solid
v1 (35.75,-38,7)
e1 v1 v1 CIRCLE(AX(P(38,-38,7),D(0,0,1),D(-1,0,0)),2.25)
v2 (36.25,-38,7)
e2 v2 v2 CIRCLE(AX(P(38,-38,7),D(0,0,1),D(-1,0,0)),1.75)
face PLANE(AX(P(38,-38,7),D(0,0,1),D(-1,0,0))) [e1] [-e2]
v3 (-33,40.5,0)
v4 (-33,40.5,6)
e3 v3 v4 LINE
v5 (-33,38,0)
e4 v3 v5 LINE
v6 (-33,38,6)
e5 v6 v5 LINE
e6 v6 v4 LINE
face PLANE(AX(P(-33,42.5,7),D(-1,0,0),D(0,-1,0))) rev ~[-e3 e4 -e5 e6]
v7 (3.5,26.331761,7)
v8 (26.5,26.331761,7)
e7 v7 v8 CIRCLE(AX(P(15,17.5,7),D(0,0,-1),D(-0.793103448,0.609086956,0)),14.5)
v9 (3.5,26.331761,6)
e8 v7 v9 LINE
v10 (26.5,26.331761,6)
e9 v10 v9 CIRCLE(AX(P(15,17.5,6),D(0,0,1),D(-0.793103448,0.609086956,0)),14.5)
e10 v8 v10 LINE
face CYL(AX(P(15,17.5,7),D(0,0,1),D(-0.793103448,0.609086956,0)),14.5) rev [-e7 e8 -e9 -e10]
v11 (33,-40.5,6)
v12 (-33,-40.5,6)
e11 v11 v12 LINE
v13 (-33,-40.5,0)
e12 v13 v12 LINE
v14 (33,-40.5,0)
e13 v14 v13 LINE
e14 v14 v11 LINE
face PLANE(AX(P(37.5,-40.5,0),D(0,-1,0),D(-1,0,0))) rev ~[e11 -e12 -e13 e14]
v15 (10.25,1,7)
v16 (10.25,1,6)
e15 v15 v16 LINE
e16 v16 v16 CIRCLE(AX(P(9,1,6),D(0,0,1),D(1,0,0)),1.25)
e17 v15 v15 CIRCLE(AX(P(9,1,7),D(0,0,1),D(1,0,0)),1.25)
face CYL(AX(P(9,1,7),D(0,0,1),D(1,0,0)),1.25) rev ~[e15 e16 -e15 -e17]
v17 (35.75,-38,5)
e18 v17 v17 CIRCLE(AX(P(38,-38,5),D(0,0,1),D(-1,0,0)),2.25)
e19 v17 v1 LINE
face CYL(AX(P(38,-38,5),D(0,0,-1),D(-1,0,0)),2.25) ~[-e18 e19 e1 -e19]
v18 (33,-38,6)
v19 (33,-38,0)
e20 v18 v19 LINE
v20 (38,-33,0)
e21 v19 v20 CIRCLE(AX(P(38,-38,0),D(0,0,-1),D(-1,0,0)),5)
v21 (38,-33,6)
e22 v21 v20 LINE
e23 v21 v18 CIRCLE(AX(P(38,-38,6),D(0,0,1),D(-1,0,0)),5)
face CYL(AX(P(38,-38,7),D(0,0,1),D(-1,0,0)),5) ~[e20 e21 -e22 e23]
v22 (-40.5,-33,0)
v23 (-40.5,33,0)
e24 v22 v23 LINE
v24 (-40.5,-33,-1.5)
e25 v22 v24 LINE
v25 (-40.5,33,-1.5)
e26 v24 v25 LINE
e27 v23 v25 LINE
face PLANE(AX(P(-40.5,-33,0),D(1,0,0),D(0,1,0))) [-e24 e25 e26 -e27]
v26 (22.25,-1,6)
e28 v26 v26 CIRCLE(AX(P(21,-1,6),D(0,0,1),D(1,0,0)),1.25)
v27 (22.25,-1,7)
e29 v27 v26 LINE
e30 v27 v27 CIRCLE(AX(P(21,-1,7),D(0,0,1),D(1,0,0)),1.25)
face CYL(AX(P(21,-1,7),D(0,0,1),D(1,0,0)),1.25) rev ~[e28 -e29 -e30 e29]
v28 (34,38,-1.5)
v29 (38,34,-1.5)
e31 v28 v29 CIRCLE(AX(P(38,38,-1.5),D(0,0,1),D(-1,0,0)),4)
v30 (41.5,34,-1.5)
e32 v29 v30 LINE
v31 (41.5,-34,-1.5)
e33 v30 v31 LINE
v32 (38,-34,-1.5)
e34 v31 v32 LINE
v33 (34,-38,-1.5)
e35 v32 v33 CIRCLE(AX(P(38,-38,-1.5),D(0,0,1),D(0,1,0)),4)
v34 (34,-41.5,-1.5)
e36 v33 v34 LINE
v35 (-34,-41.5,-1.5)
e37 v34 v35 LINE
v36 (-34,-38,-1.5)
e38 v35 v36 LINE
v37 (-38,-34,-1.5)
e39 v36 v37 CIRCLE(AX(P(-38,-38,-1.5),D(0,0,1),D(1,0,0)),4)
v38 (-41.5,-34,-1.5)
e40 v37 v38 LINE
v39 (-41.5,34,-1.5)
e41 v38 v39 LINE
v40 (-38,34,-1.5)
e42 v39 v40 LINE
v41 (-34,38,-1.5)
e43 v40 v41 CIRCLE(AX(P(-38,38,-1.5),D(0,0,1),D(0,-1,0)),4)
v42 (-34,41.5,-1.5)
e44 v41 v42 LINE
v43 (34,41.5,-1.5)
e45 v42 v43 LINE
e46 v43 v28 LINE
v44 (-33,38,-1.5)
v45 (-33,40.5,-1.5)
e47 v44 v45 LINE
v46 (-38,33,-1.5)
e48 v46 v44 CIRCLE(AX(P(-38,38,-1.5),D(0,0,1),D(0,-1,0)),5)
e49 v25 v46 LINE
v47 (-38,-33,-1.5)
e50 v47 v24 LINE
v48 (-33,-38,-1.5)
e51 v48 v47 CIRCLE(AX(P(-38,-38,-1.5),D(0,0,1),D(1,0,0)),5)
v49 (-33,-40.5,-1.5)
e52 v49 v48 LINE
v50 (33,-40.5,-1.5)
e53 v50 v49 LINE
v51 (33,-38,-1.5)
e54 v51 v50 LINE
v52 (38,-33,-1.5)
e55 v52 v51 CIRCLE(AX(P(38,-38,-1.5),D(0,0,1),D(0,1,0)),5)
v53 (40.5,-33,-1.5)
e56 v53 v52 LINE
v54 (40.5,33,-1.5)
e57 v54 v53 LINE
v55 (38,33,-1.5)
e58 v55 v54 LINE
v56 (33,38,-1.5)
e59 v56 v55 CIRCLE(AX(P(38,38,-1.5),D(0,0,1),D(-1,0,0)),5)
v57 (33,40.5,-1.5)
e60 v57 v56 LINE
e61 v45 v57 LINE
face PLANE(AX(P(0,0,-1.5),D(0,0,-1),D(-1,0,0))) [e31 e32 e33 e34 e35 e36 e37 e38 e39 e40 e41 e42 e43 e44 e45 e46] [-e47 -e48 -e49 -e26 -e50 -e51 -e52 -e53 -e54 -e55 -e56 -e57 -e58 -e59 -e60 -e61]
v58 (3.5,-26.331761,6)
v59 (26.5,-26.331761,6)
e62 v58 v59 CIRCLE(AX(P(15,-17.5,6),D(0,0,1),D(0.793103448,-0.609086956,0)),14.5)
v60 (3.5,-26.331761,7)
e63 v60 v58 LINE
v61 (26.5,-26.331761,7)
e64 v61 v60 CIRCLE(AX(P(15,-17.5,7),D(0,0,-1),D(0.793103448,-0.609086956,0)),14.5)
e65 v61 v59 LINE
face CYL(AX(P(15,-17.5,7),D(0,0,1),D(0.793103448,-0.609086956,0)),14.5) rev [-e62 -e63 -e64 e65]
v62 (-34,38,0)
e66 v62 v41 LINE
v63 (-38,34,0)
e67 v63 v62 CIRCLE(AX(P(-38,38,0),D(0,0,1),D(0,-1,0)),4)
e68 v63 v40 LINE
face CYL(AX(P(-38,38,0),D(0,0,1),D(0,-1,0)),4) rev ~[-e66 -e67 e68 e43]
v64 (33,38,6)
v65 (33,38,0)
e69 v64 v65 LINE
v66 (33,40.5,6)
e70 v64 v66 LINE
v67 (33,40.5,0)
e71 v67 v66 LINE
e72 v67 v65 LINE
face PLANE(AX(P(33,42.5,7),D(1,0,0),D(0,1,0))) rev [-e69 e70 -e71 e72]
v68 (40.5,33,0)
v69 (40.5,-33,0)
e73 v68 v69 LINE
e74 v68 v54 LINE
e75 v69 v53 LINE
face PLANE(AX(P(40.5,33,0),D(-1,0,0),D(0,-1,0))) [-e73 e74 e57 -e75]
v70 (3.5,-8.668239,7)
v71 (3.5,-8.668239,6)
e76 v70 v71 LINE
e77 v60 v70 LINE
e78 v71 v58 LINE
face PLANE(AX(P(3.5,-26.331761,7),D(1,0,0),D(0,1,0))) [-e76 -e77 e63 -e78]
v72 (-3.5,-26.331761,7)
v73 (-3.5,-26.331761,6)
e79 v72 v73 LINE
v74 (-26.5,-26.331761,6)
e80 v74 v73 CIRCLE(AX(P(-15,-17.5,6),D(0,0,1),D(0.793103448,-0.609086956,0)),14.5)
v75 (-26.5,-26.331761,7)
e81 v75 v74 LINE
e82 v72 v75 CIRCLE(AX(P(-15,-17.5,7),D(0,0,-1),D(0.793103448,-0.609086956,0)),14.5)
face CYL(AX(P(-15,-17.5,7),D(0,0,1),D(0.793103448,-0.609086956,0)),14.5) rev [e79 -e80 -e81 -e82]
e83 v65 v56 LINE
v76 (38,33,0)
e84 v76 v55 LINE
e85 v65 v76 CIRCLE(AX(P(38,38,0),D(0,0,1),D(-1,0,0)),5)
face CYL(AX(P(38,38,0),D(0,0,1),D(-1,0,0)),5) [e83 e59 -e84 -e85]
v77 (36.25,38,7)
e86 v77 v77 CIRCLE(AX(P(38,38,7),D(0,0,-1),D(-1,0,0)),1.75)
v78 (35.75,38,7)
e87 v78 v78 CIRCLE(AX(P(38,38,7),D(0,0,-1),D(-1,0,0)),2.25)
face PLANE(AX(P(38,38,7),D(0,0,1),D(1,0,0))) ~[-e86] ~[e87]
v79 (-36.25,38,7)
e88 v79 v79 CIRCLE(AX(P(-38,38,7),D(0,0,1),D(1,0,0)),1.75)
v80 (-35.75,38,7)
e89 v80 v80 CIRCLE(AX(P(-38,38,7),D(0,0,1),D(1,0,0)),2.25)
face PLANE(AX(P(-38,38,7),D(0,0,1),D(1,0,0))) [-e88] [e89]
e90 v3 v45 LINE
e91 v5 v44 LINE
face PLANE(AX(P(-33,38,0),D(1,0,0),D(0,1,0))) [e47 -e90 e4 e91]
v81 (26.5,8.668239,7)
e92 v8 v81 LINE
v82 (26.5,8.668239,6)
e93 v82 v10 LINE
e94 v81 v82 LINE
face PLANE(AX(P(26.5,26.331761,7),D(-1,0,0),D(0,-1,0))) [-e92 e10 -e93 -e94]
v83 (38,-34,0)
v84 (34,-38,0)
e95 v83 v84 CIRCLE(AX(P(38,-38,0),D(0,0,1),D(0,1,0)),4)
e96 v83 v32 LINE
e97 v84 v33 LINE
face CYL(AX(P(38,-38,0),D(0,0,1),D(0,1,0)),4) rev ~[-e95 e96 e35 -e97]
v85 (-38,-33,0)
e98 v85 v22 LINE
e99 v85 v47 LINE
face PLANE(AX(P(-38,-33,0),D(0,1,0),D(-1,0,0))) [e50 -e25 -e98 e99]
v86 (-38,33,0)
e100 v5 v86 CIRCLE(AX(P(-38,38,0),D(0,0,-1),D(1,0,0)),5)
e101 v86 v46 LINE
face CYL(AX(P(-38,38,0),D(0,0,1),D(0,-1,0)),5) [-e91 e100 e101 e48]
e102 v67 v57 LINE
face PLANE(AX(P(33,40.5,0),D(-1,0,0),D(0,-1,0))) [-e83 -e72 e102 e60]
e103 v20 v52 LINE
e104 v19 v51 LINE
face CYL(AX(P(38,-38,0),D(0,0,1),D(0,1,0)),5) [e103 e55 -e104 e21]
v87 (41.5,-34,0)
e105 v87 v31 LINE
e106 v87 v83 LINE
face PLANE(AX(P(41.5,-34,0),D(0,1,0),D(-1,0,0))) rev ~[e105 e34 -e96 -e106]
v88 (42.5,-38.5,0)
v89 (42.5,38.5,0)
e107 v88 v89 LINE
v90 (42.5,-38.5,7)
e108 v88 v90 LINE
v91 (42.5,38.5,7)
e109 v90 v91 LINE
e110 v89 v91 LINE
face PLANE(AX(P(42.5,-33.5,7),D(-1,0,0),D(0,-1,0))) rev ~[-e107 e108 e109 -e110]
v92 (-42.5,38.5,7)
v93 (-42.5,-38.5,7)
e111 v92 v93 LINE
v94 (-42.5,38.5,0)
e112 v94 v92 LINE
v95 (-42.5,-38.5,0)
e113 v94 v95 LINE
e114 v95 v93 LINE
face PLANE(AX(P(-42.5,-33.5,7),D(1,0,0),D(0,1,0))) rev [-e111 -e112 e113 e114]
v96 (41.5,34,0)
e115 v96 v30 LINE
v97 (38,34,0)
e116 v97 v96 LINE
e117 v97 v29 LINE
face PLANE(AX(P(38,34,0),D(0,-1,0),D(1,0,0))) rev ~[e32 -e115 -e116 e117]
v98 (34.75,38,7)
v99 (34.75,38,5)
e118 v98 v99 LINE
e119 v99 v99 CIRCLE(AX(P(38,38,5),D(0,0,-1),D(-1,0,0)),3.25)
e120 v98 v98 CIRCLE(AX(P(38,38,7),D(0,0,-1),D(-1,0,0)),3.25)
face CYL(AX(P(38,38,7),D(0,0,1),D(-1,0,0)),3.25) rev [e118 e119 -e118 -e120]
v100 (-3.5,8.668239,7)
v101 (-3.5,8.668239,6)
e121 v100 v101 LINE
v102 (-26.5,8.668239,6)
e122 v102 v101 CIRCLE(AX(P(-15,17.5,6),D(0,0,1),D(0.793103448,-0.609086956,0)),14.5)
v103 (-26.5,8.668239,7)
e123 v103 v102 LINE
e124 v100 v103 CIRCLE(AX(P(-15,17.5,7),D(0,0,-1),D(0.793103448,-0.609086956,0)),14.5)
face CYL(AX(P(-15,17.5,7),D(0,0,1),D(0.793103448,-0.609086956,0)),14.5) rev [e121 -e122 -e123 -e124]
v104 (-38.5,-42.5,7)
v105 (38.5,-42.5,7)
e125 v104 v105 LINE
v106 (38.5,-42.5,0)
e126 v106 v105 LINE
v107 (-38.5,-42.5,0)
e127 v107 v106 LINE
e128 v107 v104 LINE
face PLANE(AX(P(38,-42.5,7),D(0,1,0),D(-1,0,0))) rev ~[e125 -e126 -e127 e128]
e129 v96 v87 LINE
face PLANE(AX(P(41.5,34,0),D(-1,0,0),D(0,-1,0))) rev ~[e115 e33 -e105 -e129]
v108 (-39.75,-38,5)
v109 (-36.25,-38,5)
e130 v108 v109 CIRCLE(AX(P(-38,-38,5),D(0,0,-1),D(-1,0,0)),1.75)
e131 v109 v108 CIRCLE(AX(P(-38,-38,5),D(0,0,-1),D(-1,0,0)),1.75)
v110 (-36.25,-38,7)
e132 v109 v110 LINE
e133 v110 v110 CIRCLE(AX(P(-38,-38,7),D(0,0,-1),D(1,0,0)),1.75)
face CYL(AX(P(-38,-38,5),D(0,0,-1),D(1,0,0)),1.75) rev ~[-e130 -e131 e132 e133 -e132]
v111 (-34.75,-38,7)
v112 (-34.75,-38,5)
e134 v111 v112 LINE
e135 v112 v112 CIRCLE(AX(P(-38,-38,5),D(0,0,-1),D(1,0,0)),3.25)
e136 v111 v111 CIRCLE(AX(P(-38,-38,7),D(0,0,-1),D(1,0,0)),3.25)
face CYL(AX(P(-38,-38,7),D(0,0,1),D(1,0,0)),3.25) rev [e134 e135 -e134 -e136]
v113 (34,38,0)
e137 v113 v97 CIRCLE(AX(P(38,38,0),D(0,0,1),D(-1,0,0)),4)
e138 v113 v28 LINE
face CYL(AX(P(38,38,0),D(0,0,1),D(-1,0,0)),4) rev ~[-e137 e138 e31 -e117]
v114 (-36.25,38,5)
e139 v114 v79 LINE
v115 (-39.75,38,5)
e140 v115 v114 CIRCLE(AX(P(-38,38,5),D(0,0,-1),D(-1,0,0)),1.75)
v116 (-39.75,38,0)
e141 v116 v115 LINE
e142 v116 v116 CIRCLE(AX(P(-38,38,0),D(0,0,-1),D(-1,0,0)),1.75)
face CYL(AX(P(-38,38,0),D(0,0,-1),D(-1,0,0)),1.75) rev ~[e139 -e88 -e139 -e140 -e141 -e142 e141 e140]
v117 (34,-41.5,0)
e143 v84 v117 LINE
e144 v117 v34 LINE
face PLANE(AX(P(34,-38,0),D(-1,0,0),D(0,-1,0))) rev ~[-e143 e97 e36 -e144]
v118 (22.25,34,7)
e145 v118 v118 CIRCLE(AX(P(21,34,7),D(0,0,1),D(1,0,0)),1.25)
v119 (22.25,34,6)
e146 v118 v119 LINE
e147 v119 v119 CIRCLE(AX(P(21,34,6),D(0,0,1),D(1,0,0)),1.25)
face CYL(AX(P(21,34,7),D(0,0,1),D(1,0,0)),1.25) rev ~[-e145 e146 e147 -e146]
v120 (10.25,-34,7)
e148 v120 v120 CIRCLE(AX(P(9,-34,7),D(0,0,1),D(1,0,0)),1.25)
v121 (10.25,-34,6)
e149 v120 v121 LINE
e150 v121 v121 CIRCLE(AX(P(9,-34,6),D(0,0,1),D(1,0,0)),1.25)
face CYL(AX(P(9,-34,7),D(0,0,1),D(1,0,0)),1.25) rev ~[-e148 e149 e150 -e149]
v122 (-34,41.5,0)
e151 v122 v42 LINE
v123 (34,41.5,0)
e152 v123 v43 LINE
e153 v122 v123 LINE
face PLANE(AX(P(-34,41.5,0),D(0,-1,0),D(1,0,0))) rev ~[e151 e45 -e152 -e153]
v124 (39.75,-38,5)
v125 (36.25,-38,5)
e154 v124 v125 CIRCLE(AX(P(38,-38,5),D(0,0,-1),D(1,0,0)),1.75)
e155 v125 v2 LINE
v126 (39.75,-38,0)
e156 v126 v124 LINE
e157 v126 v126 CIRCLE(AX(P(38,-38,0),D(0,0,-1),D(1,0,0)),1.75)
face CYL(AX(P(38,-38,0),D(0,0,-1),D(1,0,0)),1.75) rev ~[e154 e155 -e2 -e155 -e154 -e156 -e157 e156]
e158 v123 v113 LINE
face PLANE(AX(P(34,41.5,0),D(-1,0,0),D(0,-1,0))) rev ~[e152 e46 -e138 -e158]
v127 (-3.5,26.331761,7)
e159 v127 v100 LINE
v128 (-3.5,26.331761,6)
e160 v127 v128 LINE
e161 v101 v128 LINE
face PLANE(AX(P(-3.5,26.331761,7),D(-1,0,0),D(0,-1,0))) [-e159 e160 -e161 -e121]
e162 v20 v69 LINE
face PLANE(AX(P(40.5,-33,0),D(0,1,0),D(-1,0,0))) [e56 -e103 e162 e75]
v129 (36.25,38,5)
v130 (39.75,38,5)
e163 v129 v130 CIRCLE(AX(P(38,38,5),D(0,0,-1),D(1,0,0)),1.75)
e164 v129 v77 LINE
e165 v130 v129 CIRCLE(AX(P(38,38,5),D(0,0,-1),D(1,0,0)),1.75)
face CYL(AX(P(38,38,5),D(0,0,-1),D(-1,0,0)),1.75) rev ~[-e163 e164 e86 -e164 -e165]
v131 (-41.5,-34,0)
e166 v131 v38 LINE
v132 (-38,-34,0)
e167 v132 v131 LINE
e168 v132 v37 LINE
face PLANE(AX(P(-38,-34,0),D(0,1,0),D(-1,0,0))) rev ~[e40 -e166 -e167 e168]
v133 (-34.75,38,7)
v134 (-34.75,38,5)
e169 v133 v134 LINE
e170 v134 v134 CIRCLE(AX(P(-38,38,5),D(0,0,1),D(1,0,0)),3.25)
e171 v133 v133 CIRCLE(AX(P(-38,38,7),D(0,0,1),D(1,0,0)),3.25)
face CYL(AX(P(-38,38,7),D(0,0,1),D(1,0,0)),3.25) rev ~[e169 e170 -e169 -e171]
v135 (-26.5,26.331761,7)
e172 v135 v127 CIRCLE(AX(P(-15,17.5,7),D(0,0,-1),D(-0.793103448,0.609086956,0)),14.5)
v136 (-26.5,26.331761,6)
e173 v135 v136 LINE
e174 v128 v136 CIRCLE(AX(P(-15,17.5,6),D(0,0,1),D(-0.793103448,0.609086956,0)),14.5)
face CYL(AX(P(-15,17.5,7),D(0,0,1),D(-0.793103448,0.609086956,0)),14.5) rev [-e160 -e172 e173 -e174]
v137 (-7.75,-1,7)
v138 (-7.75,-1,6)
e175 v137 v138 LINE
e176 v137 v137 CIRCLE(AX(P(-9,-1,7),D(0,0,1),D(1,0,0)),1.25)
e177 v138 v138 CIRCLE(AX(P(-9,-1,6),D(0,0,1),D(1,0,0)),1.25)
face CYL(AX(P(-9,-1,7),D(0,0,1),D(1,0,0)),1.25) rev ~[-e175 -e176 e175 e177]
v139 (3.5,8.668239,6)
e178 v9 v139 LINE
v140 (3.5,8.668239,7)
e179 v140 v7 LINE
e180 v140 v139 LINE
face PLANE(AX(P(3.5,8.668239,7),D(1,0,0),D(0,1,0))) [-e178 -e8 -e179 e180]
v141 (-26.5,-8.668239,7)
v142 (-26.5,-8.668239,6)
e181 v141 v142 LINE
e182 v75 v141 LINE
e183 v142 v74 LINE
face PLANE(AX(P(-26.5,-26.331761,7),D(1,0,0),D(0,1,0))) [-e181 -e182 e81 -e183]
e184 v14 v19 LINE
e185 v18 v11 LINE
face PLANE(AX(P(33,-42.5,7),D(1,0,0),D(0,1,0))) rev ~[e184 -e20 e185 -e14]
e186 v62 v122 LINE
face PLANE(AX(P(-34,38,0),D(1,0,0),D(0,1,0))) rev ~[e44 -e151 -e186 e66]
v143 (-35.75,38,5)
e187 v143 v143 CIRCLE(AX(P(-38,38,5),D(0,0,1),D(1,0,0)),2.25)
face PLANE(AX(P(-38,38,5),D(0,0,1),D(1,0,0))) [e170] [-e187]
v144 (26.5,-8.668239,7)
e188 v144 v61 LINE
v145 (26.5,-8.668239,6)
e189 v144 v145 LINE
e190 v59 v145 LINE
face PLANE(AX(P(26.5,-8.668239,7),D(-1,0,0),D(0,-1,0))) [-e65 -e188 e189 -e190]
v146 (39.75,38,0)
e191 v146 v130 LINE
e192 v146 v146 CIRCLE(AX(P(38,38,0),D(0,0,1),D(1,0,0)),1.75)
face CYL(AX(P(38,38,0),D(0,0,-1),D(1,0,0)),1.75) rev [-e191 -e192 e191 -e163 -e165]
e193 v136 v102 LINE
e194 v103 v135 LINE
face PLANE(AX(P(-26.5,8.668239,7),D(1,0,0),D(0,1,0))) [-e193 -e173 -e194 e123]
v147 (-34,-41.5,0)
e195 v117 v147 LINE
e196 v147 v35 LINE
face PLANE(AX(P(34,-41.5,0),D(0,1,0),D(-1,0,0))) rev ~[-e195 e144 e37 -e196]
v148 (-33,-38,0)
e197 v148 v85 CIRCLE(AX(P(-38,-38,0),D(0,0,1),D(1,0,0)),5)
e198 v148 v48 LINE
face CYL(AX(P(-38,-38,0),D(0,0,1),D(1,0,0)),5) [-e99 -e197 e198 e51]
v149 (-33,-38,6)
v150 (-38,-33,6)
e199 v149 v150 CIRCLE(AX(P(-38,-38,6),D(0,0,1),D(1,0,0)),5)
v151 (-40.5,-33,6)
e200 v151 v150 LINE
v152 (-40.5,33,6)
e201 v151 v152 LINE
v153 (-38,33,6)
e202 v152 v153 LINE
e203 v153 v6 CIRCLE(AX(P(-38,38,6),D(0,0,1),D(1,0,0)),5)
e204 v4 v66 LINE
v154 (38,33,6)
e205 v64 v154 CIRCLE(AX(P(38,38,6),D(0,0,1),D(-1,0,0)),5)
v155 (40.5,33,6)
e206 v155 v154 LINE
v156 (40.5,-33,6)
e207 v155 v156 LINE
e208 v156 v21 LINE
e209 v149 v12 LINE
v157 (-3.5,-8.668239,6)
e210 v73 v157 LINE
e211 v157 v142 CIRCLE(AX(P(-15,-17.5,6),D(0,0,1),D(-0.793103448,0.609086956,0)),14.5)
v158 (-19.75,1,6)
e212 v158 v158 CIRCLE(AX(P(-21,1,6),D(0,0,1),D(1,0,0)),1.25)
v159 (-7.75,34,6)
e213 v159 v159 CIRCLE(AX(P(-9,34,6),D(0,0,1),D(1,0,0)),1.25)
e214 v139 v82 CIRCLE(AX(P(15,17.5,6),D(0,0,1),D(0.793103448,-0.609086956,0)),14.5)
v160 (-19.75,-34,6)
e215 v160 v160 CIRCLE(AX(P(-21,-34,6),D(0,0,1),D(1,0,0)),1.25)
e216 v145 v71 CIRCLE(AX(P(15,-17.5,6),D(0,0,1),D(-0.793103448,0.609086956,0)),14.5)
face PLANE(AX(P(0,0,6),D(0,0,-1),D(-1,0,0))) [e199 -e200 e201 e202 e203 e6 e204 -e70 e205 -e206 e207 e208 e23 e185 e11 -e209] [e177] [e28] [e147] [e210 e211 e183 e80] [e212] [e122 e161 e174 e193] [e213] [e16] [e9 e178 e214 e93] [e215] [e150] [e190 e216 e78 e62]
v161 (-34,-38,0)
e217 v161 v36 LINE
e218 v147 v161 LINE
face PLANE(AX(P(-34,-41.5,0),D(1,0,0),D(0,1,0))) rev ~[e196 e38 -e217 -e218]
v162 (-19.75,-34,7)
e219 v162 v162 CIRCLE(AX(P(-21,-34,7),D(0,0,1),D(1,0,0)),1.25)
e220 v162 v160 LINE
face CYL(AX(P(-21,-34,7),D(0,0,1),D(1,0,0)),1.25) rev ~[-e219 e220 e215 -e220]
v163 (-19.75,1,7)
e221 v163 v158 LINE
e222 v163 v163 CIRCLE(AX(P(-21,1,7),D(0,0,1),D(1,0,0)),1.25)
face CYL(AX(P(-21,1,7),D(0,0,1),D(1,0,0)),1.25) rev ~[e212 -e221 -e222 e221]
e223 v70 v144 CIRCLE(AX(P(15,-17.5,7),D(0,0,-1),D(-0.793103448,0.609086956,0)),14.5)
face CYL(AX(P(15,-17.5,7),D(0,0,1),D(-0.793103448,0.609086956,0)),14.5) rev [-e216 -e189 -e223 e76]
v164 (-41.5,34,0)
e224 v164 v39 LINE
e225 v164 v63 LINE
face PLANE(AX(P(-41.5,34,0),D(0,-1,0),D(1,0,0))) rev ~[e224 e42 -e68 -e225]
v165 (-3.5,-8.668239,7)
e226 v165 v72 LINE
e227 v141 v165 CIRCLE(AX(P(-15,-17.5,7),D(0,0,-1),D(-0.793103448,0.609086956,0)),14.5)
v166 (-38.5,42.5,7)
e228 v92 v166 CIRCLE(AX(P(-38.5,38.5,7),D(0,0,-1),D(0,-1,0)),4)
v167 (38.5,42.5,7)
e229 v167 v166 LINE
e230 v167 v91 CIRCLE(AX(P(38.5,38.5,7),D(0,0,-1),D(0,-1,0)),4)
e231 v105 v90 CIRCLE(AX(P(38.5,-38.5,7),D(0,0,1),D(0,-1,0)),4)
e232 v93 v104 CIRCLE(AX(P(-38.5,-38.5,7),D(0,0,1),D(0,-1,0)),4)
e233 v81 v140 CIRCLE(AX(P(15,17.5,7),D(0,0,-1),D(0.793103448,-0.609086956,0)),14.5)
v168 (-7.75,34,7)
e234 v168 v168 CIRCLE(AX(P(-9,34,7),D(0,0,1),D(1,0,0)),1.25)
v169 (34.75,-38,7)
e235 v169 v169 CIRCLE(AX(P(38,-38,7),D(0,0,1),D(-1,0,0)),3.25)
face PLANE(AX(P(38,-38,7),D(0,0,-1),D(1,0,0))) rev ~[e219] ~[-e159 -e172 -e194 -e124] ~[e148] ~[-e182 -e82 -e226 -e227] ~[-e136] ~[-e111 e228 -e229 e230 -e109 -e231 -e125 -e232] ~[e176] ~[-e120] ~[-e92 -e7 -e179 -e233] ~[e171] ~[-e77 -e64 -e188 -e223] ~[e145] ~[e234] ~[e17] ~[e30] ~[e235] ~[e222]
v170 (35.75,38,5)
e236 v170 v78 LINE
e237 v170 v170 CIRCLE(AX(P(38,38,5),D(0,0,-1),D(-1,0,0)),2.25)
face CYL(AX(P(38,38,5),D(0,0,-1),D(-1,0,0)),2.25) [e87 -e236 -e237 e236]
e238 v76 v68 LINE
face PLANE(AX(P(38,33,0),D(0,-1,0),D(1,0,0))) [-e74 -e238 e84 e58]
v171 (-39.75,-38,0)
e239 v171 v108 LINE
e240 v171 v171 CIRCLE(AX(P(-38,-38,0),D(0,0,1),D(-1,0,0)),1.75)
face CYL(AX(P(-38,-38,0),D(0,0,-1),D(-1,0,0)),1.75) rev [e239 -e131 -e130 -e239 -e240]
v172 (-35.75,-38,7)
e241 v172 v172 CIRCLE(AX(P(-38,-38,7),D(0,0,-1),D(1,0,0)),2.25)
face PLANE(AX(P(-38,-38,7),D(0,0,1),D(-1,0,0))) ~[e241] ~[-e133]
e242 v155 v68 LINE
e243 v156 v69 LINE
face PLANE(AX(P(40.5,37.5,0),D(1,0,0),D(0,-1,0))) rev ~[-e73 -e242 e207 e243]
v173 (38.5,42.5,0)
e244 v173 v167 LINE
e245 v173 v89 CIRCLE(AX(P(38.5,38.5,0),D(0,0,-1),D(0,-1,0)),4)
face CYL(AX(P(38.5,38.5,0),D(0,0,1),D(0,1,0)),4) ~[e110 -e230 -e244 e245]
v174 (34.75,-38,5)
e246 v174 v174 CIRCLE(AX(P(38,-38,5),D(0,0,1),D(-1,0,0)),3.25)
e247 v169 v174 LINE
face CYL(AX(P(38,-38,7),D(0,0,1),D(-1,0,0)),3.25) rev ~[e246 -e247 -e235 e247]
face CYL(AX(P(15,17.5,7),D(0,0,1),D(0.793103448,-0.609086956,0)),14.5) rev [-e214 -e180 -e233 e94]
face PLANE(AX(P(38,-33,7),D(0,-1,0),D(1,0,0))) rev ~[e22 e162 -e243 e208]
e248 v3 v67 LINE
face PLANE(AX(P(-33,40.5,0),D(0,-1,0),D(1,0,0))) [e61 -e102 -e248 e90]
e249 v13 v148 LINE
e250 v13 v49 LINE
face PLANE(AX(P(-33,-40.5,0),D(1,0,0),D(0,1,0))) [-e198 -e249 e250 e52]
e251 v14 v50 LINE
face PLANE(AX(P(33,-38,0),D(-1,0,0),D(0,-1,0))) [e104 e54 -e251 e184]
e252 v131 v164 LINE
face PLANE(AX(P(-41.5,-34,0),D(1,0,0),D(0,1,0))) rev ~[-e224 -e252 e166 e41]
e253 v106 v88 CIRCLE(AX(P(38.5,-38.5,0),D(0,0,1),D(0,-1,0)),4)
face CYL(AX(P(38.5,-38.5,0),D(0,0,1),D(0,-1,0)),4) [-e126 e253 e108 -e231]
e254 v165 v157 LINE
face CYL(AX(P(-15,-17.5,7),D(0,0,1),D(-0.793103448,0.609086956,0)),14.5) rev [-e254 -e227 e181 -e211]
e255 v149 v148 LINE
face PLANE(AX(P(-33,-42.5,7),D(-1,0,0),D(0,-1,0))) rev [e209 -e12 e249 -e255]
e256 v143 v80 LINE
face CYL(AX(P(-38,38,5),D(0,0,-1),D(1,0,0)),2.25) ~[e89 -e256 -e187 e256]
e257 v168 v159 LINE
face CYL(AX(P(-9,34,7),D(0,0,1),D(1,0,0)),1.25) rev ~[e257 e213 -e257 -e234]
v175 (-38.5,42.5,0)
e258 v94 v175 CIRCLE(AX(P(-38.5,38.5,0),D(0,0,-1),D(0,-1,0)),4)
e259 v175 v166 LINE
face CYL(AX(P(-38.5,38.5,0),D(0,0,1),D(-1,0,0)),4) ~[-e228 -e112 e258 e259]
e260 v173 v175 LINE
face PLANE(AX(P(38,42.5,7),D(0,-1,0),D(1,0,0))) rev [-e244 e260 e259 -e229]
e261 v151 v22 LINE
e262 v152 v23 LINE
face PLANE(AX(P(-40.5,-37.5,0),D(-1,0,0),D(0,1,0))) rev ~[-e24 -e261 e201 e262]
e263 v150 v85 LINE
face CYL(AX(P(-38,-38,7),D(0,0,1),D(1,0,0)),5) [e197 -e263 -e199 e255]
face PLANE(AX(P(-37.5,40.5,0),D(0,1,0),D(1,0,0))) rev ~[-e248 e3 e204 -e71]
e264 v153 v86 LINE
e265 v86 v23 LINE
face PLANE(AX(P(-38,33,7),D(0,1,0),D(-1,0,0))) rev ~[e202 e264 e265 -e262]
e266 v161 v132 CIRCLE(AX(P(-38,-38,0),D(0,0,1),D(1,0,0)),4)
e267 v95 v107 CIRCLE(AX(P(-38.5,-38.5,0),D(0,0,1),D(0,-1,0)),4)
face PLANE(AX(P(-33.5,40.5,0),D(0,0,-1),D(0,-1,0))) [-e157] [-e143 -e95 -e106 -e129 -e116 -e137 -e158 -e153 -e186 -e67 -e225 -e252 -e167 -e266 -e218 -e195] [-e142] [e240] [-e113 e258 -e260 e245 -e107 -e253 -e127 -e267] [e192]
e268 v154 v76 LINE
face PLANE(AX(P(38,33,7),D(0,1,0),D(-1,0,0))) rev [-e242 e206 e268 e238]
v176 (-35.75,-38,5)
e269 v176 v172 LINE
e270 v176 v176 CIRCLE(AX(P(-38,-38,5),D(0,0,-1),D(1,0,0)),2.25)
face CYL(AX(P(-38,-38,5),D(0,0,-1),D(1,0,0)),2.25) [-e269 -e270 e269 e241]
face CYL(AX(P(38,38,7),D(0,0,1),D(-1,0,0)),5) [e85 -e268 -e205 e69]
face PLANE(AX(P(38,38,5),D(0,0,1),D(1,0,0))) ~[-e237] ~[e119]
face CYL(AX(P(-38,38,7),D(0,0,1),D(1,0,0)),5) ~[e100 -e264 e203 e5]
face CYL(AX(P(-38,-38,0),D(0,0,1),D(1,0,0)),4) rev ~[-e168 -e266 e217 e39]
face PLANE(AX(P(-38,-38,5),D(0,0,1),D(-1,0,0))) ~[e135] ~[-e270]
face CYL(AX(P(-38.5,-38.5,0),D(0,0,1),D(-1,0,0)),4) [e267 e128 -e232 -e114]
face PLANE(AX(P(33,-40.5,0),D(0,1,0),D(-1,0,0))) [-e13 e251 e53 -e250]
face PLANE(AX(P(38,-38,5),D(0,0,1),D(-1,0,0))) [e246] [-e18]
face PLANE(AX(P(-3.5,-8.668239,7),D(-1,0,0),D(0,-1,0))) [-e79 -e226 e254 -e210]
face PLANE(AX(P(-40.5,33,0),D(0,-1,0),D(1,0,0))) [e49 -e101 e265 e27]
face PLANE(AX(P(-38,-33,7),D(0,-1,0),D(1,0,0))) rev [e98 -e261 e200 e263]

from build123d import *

# Parameters (mm, degrees)
SKETCH1_W                 = 85
SKETCH1_H                 = 85
BOSS_EXTRUDE1_DEPTH       = 7
CUT_EXTRUDE4_DEPTH        = 6
FILLET4_R                 = 4
CUT_EXTRUDE1_DEPTH        = 61.510329697
SKETCH3_R                 = 1.25
CUT_EXTRUDE6_DEPTH        = 61.510329697
LPATTERN1_COUNT           = 2
LPATTERN1_PITCH           = 35
LPATTERN1_COUNT_DIR2      = 2
LPATTERN1_PITCH_DIR2      = 30
BOSS_EXTRUDE6_DEPTH       = 7
SKETCH15_R                = 1.75
CUT_EXTRUDE7_DEPTH        = 61.510329697
SKETCH30_R                = 3.25
CUT_EXTRUDE8_DEPTH        = 2
SKETCH31_R                = 2.25
SKETCH31_R_2              = 1.75
EXTRUDE_THIN2_DEPTH       = 2
MIRROR4_COPY_1_DEPTH      = 7
MIRROR4_COPY_2_SKETCH_R   = 1.75
MIRROR4_COPY_2_DEPTH      = 61.510329697
MIRROR4_COPY_3_SKETCH_R   = 3.25
MIRROR4_COPY_3_DEPTH      = 2
MIRROR4_COPY_4_SKETCH_R   = 2.25
MIRROR4_COPY_4_SKETCH_R_2 = 1.75
MIRROR4_COPY_4_DEPTH      = 2
MOVE_FACE1_BY             = 0.5
MOVE_FACE1_2_BY           = 0.5
MOVE_FACE1_3_BY           = 0.5
MOVE_FACE1_4_BY           = 0.5
MOVE_FACE1_5_BY           = 0.5
MOVE_FACE1_6_BY           = 0.5
MOVE_FACE1_7_BY           = 0.5
MOVE_FACE1_8_BY           = 0.5
MOVE_FACE1_9_BY           = 0.5
MOVE_FACE1_10_BY          = 0.5
MOVE_FACE1_11_BY          = 0.5
MOVE_FACE1_12_BY          = 0.5
EXTRUDE_THIN1_DEPTH       = 1.5


with BuildPart() as part:
    # Sketch1 → Boss-Extrude1 (new body)
    with BuildSketch(Plane.XY):
        Rectangle(SKETCH1_W, SKETCH1_H)
    extrude(amount=BOSS_EXTRUDE1_DEPTH)

    # Sketch8 → Cut-Extrude4 (cut)
    with BuildSketch(Plane(origin=(0, 0, 0), x_dir=(-1, 0, 0), z_dir=(0, 0, -1))):
        with BuildLine():
            Line((40.5, -37.5), (40.5, 37.5))
            ThreePointArc((40.5, 37.5), (39.621320344, 39.621320344), (37.5, 40.5))
            Line((37.5, 40.5), (-37.5, 40.5))
            ThreePointArc((-37.5, 40.5), (-39.621320344, 39.621320344), (-40.5, 37.5))
            Line((-40.5, 37.5), (-40.5, -37.5))
            ThreePointArc((-40.5, -37.5), (-39.621320344, -39.621320344), (-37.5, -40.5))
            Line((-37.5, -40.5), (37.5, -40.5))
            ThreePointArc((37.5, -40.5), (39.621320344, -39.621320344), (40.5, -37.5))
        make_face()
    extrude(amount=-CUT_EXTRUDE4_DEPTH, mode=Mode.SUBTRACT)

    # Fillet4
    fillet4_edges = [part.edges().sort_by_distance(p)[0] for p in [
        (42.5, -42.5, 3.5),
        (-42.5, -42.5, 3.5),
        (-42.5, 42.5, 3.5),
        (42.5, 42.5, 3.5),
    ]]
    fillet(fillet4_edges, radius=FILLET4_R)

    # Sketch2 → Cut-Extrude1 (cut, through all)
    with BuildSketch(Plane.XY.offset(7)):
        with BuildLine():
            Line((-26.5, 8.668239134), (-26.5, 26.331760866))
            ThreePointArc((-26.5, 26.331760866), (-15, 32), (-3.5, 26.331760866))
            Line((-3.5, 26.331760866), (-3.5, 8.668239134))
            ThreePointArc((-3.5, 8.668239134), (-15, 3), (-26.5, 8.668239134))
        make_face()
    cut_extrude1 = extrude(amount=-CUT_EXTRUDE1_DEPTH, mode=Mode.SUBTRACT)

    # Sketch3 → Cut-Extrude6 (cut, through all)
    with BuildSketch(Plane.XY.offset(7)):
        with Locations((-9, 34)):
            Circle(SKETCH3_R)
        with Locations((-21, 1)):
            Circle(SKETCH3_R)
    cut_extrude6 = extrude(amount=-CUT_EXTRUDE6_DEPTH, mode=Mode.SUBTRACT)

    # LPattern1: Cut-Extrude1, Cut-Extrude6 2 × 2
    with Locations(*[(j * LPATTERN1_PITCH_DIR2, -i * LPATTERN1_PITCH, 0) for i in range(LPATTERN1_COUNT) for j in range(LPATTERN1_COUNT_DIR2) if (i, j) != (0, 0)]):
        add(cut_extrude1, mode=Mode.SUBTRACT)
        add(cut_extrude6, mode=Mode.SUBTRACT)

    # Sketch14 → Boss-Extrude6 (add)
    with BuildSketch(Plane.XY.offset(7)):
        with BuildLine():
            Line((-38, 33.5), (-42.5, 33.5))
            Line((-42.5, 33.5), (-42.5, 38))
            ThreePointArc((-42.5, 38), (-41.181980515, 41.181980515), (-38, 42.5))
            Line((-38, 42.5), (-33.5, 42.5))
            Line((-33.5, 42.5), (-33.5, 38))
            ThreePointArc((-33.5, 38), (-34.818019485, 34.818019485), (-38, 33.5))
        make_face()
    boss_extrude6 = extrude(amount=-BOSS_EXTRUDE6_DEPTH)

    # Sketch15 → Cut-Extrude7 (cut, through all)
    with BuildSketch(Plane(origin=(0, 0, 0), x_dir=(-1, 0, 0), z_dir=(0, 0, -1))):
        with Locations((38, 38)):
            Circle(SKETCH15_R)
    cut_extrude7 = extrude(amount=-CUT_EXTRUDE7_DEPTH, mode=Mode.SUBTRACT)

    # Sketch30 → Cut-Extrude8 (cut)
    with BuildSketch(Plane.XY.offset(7)):
        with Locations((-38, 38)):
            Circle(SKETCH30_R)
    cut_extrude8 = extrude(amount=-CUT_EXTRUDE8_DEPTH, mode=Mode.SUBTRACT)

    # Sketch31 → Extrude-Thin2 (add)
    with BuildSketch(Plane.XY.offset(5)):
        with Locations((-38, 38)):
            Circle(SKETCH31_R)
        with Locations((-38, 38)):
            Circle(SKETCH31_R_2, mode=Mode.SUBTRACT)
    extrude_thin2 = extrude(amount=EXTRUDE_THIN2_DEPTH)

    # Mirror3: Boss-Extrude6, Cut-Extrude7, Cut-Extrude8, Extrude-Thin2 across plane
    add(boss_extrude6.mirror(Plane(origin=(0, 0, 0), x_dir=(0, 0, 1), z_dir=(1, 0, 0))))
    add(cut_extrude7.mirror(Plane(origin=(0, 0, 0), x_dir=(0, 0, 1), z_dir=(1, 0, 0))), mode=Mode.SUBTRACT)
    add(cut_extrude8.mirror(Plane(origin=(0, 0, 0), x_dir=(0, 0, 1), z_dir=(1, 0, 0))), mode=Mode.SUBTRACT)
    add(extrude_thin2.mirror(Plane(origin=(0, 0, 0), x_dir=(0, 0, 1), z_dir=(1, 0, 0))))

    # Mirror4: Boss-Extrude6, Cut-Extrude7, Cut-Extrude8, Extrude-Thin2 across plane
    add(boss_extrude6.mirror(Plane.ZX))
    add(cut_extrude7.mirror(Plane.ZX), mode=Mode.SUBTRACT)
    add(cut_extrude8.mirror(Plane.ZX), mode=Mode.SUBTRACT)
    add(extrude_thin2.mirror(Plane.ZX))

    # Mirror4 copy 1 sketch → Mirror4 copy 1 (add)
    with BuildSketch(Plane(origin=(0, 0, 7), x_dir=(-1, 0, 0), z_dir=(0, 0, 1))):
        with BuildLine():
            Line((-38, 33.5), (-42.5, 33.5))
            Line((-42.5, 33.5), (-42.5, 38))
            ThreePointArc((-42.5, 38), (-41.181980515, 41.181980515), (-38, 42.5))
            Line((-38, 42.5), (-33.5, 42.5))
            Line((-33.5, 42.5), (-33.5, 38))
            ThreePointArc((-33.5, 38), (-34.818019485, 34.818019485), (-38, 33.5))
        make_face()
    extrude(amount=-MIRROR4_COPY_1_DEPTH)

    # Mirror4 copy 2 sketch → Mirror4 copy 2 (cut, through all)
    with BuildSketch(Plane(origin=(0, 0, 0), x_dir=(1, 0, 0), z_dir=(0, 0, -1))):
        with Locations((38, 38)):
            Circle(MIRROR4_COPY_2_SKETCH_R)
    extrude(amount=-MIRROR4_COPY_2_DEPTH, mode=Mode.SUBTRACT)

    # Mirror4 copy 3 sketch → Mirror4 copy 3 (cut)
    with BuildSketch(Plane(origin=(0, 0, 7), x_dir=(-1, 0, 0), z_dir=(0, 0, 1))):
        with Locations((-38, 38)):
            Circle(MIRROR4_COPY_3_SKETCH_R)
    extrude(amount=-MIRROR4_COPY_3_DEPTH, mode=Mode.SUBTRACT)

    # Mirror4 copy 4 sketch → Mirror4 copy 4 (add)
    with BuildSketch(Plane(origin=(0, 0, 5), x_dir=(-1, 0, 0), z_dir=(0, 0, 1))):
        with Locations((-38, 38)):
            Circle(MIRROR4_COPY_4_SKETCH_R)
        with Locations((-38, 38)):
            Circle(MIRROR4_COPY_4_SKETCH_R_2, mode=Mode.SUBTRACT)
    extrude(amount=MIRROR4_COPY_4_DEPTH)

    # Move Face1: a curved face moved outward by 0.5
    add(Solid.thicken(part.faces().sort_by_distance((-34.818019485, -34.818019485, 3))[0], MOVE_FACE1_BY))

    # Move Face1 2: a face moved outward by 0.5
    extrude(part.faces().sort_by_distance((-33.5, -39.25, 3))[0], amount=MOVE_FACE1_2_BY, dir=(1, 0, 0))

    # Move Face1 3: a face moved outward by 0.5
    extrude(part.faces().sort_by_distance((-39.25, -33.5, 3))[0], amount=MOVE_FACE1_3_BY, dir=(0, 1, 0))

    # Move Face1 4: a face moved outward by 0.5
    extrude(part.faces().sort_by_distance((33.5, -39.25, 3))[0], amount=MOVE_FACE1_4_BY, dir=(-1, 0, 0))

    # Move Face1 5: a face moved outward by 0.5
    extrude(part.faces().sort_by_distance((39.25, -33.5, 3))[0], amount=MOVE_FACE1_5_BY, dir=(0, 1, 0))

    # Move Face1 6: a curved face moved outward by 0.5
    add(Solid.thicken(part.faces().sort_by_distance((34.818019485, -34.818019485, 3))[0], MOVE_FACE1_6_BY))

    # Move Face1 7: a face moved outward by 0.5
    extrude(part.faces().sort_by_distance((33.5, 39.25, 3))[0], amount=MOVE_FACE1_7_BY, dir=(-1, 0, 0))

    # Move Face1 8: a curved face moved outward by 0.5
    add(Solid.thicken(part.faces().sort_by_distance((34.818019485, 34.818019485, 3))[0], MOVE_FACE1_8_BY))

    # Move Face1 9: a face moved outward by 0.5
    extrude(part.faces().sort_by_distance((39.25, 33.5, 3))[0], amount=MOVE_FACE1_9_BY, dir=(0, -1, 0))

    # Move Face1 10: a face moved outward by 0.5
    extrude(part.faces().sort_by_distance((-39.25, 33.5, 3))[0], amount=MOVE_FACE1_10_BY, dir=(0, -1, 0))

    # Move Face1 11: a curved face moved outward by 0.5
    add(Solid.thicken(part.faces().sort_by_distance((-34.818019485, 34.818019485, 3))[0], MOVE_FACE1_11_BY))

    # Move Face1 12: a face moved outward by 0.5
    extrude(part.faces().sort_by_distance((-33.5, 39.25, 3))[0], amount=MOVE_FACE1_12_BY, dir=(1, 0, 0))

    # Sketch29 → Extrude-Thin1 (add)
    with BuildSketch(Plane(origin=(0, 0, 0), x_dir=(-1, 0, 0), z_dir=(0, 0, -1))):
        with BuildLine():
            Line((34, 38), (34, 41.5))
            Line((34, 41.5), (-34, 41.5))
            Line((-34, 41.5), (-34, 38))
            ThreePointArc((-34, 38), (-35.171572875, 35.171572875), (-38, 34))
            Line((-38, 34), (-41.5, 34))
            Line((-41.5, 34), (-41.5, -34))
            Line((-41.5, -34), (-38, -34))
            ThreePointArc((-38, -34), (-35.171572875, -35.171572875), (-34, -38))
            Line((-34, -38), (-34, -41.5))
            Line((-34, -41.5), (34, -41.5))
            Line((34, -41.5), (34, -38))
            ThreePointArc((34, -38), (35.171572875, -35.171572875), (38, -34))
            Line((38, -34), (41.5, -34))
            Line((41.5, -34), (41.5, 34))
            Line((41.5, 34), (38, 34))
            ThreePointArc((38, 34), (35.171572875, 35.171572875), (34, 38))
        make_face()
        with BuildLine():
            Line((33, 38), (33, 40.5))
            Line((33, 40.5), (-33, 40.5))
            Line((-33, 40.5), (-33, 38))
            ThreePointArc((-33, 38), (-34.464466094, 34.464466094), (-38, 33))
            Line((-38, 33), (-40.5, 33))
            Line((-40.5, 33), (-40.5, -33))
            Line((-40.5, -33), (-38, -33))
            ThreePointArc((-38, -33), (-34.464466094, -34.464466094), (-33, -38))
            Line((-33, -38), (-33, -40.5))
            Line((-33, -40.5), (33, -40.5))
            Line((33, -40.5), (33, -38))
            ThreePointArc((33, -38), (34.464466094, -34.464466094), (38, -33))
            Line((38, -33), (40.5, -33))
            Line((40.5, -33), (40.5, 33))
            Line((40.5, 33), (38, 33))
            ThreePointArc((38, 33), (34.464466094, 34.464466094), (33, 38))
        make_face(mode=Mode.SUBTRACT)
    extrude(amount=EXTRUDE_THIN1_DEPTH)


solid = part.part
